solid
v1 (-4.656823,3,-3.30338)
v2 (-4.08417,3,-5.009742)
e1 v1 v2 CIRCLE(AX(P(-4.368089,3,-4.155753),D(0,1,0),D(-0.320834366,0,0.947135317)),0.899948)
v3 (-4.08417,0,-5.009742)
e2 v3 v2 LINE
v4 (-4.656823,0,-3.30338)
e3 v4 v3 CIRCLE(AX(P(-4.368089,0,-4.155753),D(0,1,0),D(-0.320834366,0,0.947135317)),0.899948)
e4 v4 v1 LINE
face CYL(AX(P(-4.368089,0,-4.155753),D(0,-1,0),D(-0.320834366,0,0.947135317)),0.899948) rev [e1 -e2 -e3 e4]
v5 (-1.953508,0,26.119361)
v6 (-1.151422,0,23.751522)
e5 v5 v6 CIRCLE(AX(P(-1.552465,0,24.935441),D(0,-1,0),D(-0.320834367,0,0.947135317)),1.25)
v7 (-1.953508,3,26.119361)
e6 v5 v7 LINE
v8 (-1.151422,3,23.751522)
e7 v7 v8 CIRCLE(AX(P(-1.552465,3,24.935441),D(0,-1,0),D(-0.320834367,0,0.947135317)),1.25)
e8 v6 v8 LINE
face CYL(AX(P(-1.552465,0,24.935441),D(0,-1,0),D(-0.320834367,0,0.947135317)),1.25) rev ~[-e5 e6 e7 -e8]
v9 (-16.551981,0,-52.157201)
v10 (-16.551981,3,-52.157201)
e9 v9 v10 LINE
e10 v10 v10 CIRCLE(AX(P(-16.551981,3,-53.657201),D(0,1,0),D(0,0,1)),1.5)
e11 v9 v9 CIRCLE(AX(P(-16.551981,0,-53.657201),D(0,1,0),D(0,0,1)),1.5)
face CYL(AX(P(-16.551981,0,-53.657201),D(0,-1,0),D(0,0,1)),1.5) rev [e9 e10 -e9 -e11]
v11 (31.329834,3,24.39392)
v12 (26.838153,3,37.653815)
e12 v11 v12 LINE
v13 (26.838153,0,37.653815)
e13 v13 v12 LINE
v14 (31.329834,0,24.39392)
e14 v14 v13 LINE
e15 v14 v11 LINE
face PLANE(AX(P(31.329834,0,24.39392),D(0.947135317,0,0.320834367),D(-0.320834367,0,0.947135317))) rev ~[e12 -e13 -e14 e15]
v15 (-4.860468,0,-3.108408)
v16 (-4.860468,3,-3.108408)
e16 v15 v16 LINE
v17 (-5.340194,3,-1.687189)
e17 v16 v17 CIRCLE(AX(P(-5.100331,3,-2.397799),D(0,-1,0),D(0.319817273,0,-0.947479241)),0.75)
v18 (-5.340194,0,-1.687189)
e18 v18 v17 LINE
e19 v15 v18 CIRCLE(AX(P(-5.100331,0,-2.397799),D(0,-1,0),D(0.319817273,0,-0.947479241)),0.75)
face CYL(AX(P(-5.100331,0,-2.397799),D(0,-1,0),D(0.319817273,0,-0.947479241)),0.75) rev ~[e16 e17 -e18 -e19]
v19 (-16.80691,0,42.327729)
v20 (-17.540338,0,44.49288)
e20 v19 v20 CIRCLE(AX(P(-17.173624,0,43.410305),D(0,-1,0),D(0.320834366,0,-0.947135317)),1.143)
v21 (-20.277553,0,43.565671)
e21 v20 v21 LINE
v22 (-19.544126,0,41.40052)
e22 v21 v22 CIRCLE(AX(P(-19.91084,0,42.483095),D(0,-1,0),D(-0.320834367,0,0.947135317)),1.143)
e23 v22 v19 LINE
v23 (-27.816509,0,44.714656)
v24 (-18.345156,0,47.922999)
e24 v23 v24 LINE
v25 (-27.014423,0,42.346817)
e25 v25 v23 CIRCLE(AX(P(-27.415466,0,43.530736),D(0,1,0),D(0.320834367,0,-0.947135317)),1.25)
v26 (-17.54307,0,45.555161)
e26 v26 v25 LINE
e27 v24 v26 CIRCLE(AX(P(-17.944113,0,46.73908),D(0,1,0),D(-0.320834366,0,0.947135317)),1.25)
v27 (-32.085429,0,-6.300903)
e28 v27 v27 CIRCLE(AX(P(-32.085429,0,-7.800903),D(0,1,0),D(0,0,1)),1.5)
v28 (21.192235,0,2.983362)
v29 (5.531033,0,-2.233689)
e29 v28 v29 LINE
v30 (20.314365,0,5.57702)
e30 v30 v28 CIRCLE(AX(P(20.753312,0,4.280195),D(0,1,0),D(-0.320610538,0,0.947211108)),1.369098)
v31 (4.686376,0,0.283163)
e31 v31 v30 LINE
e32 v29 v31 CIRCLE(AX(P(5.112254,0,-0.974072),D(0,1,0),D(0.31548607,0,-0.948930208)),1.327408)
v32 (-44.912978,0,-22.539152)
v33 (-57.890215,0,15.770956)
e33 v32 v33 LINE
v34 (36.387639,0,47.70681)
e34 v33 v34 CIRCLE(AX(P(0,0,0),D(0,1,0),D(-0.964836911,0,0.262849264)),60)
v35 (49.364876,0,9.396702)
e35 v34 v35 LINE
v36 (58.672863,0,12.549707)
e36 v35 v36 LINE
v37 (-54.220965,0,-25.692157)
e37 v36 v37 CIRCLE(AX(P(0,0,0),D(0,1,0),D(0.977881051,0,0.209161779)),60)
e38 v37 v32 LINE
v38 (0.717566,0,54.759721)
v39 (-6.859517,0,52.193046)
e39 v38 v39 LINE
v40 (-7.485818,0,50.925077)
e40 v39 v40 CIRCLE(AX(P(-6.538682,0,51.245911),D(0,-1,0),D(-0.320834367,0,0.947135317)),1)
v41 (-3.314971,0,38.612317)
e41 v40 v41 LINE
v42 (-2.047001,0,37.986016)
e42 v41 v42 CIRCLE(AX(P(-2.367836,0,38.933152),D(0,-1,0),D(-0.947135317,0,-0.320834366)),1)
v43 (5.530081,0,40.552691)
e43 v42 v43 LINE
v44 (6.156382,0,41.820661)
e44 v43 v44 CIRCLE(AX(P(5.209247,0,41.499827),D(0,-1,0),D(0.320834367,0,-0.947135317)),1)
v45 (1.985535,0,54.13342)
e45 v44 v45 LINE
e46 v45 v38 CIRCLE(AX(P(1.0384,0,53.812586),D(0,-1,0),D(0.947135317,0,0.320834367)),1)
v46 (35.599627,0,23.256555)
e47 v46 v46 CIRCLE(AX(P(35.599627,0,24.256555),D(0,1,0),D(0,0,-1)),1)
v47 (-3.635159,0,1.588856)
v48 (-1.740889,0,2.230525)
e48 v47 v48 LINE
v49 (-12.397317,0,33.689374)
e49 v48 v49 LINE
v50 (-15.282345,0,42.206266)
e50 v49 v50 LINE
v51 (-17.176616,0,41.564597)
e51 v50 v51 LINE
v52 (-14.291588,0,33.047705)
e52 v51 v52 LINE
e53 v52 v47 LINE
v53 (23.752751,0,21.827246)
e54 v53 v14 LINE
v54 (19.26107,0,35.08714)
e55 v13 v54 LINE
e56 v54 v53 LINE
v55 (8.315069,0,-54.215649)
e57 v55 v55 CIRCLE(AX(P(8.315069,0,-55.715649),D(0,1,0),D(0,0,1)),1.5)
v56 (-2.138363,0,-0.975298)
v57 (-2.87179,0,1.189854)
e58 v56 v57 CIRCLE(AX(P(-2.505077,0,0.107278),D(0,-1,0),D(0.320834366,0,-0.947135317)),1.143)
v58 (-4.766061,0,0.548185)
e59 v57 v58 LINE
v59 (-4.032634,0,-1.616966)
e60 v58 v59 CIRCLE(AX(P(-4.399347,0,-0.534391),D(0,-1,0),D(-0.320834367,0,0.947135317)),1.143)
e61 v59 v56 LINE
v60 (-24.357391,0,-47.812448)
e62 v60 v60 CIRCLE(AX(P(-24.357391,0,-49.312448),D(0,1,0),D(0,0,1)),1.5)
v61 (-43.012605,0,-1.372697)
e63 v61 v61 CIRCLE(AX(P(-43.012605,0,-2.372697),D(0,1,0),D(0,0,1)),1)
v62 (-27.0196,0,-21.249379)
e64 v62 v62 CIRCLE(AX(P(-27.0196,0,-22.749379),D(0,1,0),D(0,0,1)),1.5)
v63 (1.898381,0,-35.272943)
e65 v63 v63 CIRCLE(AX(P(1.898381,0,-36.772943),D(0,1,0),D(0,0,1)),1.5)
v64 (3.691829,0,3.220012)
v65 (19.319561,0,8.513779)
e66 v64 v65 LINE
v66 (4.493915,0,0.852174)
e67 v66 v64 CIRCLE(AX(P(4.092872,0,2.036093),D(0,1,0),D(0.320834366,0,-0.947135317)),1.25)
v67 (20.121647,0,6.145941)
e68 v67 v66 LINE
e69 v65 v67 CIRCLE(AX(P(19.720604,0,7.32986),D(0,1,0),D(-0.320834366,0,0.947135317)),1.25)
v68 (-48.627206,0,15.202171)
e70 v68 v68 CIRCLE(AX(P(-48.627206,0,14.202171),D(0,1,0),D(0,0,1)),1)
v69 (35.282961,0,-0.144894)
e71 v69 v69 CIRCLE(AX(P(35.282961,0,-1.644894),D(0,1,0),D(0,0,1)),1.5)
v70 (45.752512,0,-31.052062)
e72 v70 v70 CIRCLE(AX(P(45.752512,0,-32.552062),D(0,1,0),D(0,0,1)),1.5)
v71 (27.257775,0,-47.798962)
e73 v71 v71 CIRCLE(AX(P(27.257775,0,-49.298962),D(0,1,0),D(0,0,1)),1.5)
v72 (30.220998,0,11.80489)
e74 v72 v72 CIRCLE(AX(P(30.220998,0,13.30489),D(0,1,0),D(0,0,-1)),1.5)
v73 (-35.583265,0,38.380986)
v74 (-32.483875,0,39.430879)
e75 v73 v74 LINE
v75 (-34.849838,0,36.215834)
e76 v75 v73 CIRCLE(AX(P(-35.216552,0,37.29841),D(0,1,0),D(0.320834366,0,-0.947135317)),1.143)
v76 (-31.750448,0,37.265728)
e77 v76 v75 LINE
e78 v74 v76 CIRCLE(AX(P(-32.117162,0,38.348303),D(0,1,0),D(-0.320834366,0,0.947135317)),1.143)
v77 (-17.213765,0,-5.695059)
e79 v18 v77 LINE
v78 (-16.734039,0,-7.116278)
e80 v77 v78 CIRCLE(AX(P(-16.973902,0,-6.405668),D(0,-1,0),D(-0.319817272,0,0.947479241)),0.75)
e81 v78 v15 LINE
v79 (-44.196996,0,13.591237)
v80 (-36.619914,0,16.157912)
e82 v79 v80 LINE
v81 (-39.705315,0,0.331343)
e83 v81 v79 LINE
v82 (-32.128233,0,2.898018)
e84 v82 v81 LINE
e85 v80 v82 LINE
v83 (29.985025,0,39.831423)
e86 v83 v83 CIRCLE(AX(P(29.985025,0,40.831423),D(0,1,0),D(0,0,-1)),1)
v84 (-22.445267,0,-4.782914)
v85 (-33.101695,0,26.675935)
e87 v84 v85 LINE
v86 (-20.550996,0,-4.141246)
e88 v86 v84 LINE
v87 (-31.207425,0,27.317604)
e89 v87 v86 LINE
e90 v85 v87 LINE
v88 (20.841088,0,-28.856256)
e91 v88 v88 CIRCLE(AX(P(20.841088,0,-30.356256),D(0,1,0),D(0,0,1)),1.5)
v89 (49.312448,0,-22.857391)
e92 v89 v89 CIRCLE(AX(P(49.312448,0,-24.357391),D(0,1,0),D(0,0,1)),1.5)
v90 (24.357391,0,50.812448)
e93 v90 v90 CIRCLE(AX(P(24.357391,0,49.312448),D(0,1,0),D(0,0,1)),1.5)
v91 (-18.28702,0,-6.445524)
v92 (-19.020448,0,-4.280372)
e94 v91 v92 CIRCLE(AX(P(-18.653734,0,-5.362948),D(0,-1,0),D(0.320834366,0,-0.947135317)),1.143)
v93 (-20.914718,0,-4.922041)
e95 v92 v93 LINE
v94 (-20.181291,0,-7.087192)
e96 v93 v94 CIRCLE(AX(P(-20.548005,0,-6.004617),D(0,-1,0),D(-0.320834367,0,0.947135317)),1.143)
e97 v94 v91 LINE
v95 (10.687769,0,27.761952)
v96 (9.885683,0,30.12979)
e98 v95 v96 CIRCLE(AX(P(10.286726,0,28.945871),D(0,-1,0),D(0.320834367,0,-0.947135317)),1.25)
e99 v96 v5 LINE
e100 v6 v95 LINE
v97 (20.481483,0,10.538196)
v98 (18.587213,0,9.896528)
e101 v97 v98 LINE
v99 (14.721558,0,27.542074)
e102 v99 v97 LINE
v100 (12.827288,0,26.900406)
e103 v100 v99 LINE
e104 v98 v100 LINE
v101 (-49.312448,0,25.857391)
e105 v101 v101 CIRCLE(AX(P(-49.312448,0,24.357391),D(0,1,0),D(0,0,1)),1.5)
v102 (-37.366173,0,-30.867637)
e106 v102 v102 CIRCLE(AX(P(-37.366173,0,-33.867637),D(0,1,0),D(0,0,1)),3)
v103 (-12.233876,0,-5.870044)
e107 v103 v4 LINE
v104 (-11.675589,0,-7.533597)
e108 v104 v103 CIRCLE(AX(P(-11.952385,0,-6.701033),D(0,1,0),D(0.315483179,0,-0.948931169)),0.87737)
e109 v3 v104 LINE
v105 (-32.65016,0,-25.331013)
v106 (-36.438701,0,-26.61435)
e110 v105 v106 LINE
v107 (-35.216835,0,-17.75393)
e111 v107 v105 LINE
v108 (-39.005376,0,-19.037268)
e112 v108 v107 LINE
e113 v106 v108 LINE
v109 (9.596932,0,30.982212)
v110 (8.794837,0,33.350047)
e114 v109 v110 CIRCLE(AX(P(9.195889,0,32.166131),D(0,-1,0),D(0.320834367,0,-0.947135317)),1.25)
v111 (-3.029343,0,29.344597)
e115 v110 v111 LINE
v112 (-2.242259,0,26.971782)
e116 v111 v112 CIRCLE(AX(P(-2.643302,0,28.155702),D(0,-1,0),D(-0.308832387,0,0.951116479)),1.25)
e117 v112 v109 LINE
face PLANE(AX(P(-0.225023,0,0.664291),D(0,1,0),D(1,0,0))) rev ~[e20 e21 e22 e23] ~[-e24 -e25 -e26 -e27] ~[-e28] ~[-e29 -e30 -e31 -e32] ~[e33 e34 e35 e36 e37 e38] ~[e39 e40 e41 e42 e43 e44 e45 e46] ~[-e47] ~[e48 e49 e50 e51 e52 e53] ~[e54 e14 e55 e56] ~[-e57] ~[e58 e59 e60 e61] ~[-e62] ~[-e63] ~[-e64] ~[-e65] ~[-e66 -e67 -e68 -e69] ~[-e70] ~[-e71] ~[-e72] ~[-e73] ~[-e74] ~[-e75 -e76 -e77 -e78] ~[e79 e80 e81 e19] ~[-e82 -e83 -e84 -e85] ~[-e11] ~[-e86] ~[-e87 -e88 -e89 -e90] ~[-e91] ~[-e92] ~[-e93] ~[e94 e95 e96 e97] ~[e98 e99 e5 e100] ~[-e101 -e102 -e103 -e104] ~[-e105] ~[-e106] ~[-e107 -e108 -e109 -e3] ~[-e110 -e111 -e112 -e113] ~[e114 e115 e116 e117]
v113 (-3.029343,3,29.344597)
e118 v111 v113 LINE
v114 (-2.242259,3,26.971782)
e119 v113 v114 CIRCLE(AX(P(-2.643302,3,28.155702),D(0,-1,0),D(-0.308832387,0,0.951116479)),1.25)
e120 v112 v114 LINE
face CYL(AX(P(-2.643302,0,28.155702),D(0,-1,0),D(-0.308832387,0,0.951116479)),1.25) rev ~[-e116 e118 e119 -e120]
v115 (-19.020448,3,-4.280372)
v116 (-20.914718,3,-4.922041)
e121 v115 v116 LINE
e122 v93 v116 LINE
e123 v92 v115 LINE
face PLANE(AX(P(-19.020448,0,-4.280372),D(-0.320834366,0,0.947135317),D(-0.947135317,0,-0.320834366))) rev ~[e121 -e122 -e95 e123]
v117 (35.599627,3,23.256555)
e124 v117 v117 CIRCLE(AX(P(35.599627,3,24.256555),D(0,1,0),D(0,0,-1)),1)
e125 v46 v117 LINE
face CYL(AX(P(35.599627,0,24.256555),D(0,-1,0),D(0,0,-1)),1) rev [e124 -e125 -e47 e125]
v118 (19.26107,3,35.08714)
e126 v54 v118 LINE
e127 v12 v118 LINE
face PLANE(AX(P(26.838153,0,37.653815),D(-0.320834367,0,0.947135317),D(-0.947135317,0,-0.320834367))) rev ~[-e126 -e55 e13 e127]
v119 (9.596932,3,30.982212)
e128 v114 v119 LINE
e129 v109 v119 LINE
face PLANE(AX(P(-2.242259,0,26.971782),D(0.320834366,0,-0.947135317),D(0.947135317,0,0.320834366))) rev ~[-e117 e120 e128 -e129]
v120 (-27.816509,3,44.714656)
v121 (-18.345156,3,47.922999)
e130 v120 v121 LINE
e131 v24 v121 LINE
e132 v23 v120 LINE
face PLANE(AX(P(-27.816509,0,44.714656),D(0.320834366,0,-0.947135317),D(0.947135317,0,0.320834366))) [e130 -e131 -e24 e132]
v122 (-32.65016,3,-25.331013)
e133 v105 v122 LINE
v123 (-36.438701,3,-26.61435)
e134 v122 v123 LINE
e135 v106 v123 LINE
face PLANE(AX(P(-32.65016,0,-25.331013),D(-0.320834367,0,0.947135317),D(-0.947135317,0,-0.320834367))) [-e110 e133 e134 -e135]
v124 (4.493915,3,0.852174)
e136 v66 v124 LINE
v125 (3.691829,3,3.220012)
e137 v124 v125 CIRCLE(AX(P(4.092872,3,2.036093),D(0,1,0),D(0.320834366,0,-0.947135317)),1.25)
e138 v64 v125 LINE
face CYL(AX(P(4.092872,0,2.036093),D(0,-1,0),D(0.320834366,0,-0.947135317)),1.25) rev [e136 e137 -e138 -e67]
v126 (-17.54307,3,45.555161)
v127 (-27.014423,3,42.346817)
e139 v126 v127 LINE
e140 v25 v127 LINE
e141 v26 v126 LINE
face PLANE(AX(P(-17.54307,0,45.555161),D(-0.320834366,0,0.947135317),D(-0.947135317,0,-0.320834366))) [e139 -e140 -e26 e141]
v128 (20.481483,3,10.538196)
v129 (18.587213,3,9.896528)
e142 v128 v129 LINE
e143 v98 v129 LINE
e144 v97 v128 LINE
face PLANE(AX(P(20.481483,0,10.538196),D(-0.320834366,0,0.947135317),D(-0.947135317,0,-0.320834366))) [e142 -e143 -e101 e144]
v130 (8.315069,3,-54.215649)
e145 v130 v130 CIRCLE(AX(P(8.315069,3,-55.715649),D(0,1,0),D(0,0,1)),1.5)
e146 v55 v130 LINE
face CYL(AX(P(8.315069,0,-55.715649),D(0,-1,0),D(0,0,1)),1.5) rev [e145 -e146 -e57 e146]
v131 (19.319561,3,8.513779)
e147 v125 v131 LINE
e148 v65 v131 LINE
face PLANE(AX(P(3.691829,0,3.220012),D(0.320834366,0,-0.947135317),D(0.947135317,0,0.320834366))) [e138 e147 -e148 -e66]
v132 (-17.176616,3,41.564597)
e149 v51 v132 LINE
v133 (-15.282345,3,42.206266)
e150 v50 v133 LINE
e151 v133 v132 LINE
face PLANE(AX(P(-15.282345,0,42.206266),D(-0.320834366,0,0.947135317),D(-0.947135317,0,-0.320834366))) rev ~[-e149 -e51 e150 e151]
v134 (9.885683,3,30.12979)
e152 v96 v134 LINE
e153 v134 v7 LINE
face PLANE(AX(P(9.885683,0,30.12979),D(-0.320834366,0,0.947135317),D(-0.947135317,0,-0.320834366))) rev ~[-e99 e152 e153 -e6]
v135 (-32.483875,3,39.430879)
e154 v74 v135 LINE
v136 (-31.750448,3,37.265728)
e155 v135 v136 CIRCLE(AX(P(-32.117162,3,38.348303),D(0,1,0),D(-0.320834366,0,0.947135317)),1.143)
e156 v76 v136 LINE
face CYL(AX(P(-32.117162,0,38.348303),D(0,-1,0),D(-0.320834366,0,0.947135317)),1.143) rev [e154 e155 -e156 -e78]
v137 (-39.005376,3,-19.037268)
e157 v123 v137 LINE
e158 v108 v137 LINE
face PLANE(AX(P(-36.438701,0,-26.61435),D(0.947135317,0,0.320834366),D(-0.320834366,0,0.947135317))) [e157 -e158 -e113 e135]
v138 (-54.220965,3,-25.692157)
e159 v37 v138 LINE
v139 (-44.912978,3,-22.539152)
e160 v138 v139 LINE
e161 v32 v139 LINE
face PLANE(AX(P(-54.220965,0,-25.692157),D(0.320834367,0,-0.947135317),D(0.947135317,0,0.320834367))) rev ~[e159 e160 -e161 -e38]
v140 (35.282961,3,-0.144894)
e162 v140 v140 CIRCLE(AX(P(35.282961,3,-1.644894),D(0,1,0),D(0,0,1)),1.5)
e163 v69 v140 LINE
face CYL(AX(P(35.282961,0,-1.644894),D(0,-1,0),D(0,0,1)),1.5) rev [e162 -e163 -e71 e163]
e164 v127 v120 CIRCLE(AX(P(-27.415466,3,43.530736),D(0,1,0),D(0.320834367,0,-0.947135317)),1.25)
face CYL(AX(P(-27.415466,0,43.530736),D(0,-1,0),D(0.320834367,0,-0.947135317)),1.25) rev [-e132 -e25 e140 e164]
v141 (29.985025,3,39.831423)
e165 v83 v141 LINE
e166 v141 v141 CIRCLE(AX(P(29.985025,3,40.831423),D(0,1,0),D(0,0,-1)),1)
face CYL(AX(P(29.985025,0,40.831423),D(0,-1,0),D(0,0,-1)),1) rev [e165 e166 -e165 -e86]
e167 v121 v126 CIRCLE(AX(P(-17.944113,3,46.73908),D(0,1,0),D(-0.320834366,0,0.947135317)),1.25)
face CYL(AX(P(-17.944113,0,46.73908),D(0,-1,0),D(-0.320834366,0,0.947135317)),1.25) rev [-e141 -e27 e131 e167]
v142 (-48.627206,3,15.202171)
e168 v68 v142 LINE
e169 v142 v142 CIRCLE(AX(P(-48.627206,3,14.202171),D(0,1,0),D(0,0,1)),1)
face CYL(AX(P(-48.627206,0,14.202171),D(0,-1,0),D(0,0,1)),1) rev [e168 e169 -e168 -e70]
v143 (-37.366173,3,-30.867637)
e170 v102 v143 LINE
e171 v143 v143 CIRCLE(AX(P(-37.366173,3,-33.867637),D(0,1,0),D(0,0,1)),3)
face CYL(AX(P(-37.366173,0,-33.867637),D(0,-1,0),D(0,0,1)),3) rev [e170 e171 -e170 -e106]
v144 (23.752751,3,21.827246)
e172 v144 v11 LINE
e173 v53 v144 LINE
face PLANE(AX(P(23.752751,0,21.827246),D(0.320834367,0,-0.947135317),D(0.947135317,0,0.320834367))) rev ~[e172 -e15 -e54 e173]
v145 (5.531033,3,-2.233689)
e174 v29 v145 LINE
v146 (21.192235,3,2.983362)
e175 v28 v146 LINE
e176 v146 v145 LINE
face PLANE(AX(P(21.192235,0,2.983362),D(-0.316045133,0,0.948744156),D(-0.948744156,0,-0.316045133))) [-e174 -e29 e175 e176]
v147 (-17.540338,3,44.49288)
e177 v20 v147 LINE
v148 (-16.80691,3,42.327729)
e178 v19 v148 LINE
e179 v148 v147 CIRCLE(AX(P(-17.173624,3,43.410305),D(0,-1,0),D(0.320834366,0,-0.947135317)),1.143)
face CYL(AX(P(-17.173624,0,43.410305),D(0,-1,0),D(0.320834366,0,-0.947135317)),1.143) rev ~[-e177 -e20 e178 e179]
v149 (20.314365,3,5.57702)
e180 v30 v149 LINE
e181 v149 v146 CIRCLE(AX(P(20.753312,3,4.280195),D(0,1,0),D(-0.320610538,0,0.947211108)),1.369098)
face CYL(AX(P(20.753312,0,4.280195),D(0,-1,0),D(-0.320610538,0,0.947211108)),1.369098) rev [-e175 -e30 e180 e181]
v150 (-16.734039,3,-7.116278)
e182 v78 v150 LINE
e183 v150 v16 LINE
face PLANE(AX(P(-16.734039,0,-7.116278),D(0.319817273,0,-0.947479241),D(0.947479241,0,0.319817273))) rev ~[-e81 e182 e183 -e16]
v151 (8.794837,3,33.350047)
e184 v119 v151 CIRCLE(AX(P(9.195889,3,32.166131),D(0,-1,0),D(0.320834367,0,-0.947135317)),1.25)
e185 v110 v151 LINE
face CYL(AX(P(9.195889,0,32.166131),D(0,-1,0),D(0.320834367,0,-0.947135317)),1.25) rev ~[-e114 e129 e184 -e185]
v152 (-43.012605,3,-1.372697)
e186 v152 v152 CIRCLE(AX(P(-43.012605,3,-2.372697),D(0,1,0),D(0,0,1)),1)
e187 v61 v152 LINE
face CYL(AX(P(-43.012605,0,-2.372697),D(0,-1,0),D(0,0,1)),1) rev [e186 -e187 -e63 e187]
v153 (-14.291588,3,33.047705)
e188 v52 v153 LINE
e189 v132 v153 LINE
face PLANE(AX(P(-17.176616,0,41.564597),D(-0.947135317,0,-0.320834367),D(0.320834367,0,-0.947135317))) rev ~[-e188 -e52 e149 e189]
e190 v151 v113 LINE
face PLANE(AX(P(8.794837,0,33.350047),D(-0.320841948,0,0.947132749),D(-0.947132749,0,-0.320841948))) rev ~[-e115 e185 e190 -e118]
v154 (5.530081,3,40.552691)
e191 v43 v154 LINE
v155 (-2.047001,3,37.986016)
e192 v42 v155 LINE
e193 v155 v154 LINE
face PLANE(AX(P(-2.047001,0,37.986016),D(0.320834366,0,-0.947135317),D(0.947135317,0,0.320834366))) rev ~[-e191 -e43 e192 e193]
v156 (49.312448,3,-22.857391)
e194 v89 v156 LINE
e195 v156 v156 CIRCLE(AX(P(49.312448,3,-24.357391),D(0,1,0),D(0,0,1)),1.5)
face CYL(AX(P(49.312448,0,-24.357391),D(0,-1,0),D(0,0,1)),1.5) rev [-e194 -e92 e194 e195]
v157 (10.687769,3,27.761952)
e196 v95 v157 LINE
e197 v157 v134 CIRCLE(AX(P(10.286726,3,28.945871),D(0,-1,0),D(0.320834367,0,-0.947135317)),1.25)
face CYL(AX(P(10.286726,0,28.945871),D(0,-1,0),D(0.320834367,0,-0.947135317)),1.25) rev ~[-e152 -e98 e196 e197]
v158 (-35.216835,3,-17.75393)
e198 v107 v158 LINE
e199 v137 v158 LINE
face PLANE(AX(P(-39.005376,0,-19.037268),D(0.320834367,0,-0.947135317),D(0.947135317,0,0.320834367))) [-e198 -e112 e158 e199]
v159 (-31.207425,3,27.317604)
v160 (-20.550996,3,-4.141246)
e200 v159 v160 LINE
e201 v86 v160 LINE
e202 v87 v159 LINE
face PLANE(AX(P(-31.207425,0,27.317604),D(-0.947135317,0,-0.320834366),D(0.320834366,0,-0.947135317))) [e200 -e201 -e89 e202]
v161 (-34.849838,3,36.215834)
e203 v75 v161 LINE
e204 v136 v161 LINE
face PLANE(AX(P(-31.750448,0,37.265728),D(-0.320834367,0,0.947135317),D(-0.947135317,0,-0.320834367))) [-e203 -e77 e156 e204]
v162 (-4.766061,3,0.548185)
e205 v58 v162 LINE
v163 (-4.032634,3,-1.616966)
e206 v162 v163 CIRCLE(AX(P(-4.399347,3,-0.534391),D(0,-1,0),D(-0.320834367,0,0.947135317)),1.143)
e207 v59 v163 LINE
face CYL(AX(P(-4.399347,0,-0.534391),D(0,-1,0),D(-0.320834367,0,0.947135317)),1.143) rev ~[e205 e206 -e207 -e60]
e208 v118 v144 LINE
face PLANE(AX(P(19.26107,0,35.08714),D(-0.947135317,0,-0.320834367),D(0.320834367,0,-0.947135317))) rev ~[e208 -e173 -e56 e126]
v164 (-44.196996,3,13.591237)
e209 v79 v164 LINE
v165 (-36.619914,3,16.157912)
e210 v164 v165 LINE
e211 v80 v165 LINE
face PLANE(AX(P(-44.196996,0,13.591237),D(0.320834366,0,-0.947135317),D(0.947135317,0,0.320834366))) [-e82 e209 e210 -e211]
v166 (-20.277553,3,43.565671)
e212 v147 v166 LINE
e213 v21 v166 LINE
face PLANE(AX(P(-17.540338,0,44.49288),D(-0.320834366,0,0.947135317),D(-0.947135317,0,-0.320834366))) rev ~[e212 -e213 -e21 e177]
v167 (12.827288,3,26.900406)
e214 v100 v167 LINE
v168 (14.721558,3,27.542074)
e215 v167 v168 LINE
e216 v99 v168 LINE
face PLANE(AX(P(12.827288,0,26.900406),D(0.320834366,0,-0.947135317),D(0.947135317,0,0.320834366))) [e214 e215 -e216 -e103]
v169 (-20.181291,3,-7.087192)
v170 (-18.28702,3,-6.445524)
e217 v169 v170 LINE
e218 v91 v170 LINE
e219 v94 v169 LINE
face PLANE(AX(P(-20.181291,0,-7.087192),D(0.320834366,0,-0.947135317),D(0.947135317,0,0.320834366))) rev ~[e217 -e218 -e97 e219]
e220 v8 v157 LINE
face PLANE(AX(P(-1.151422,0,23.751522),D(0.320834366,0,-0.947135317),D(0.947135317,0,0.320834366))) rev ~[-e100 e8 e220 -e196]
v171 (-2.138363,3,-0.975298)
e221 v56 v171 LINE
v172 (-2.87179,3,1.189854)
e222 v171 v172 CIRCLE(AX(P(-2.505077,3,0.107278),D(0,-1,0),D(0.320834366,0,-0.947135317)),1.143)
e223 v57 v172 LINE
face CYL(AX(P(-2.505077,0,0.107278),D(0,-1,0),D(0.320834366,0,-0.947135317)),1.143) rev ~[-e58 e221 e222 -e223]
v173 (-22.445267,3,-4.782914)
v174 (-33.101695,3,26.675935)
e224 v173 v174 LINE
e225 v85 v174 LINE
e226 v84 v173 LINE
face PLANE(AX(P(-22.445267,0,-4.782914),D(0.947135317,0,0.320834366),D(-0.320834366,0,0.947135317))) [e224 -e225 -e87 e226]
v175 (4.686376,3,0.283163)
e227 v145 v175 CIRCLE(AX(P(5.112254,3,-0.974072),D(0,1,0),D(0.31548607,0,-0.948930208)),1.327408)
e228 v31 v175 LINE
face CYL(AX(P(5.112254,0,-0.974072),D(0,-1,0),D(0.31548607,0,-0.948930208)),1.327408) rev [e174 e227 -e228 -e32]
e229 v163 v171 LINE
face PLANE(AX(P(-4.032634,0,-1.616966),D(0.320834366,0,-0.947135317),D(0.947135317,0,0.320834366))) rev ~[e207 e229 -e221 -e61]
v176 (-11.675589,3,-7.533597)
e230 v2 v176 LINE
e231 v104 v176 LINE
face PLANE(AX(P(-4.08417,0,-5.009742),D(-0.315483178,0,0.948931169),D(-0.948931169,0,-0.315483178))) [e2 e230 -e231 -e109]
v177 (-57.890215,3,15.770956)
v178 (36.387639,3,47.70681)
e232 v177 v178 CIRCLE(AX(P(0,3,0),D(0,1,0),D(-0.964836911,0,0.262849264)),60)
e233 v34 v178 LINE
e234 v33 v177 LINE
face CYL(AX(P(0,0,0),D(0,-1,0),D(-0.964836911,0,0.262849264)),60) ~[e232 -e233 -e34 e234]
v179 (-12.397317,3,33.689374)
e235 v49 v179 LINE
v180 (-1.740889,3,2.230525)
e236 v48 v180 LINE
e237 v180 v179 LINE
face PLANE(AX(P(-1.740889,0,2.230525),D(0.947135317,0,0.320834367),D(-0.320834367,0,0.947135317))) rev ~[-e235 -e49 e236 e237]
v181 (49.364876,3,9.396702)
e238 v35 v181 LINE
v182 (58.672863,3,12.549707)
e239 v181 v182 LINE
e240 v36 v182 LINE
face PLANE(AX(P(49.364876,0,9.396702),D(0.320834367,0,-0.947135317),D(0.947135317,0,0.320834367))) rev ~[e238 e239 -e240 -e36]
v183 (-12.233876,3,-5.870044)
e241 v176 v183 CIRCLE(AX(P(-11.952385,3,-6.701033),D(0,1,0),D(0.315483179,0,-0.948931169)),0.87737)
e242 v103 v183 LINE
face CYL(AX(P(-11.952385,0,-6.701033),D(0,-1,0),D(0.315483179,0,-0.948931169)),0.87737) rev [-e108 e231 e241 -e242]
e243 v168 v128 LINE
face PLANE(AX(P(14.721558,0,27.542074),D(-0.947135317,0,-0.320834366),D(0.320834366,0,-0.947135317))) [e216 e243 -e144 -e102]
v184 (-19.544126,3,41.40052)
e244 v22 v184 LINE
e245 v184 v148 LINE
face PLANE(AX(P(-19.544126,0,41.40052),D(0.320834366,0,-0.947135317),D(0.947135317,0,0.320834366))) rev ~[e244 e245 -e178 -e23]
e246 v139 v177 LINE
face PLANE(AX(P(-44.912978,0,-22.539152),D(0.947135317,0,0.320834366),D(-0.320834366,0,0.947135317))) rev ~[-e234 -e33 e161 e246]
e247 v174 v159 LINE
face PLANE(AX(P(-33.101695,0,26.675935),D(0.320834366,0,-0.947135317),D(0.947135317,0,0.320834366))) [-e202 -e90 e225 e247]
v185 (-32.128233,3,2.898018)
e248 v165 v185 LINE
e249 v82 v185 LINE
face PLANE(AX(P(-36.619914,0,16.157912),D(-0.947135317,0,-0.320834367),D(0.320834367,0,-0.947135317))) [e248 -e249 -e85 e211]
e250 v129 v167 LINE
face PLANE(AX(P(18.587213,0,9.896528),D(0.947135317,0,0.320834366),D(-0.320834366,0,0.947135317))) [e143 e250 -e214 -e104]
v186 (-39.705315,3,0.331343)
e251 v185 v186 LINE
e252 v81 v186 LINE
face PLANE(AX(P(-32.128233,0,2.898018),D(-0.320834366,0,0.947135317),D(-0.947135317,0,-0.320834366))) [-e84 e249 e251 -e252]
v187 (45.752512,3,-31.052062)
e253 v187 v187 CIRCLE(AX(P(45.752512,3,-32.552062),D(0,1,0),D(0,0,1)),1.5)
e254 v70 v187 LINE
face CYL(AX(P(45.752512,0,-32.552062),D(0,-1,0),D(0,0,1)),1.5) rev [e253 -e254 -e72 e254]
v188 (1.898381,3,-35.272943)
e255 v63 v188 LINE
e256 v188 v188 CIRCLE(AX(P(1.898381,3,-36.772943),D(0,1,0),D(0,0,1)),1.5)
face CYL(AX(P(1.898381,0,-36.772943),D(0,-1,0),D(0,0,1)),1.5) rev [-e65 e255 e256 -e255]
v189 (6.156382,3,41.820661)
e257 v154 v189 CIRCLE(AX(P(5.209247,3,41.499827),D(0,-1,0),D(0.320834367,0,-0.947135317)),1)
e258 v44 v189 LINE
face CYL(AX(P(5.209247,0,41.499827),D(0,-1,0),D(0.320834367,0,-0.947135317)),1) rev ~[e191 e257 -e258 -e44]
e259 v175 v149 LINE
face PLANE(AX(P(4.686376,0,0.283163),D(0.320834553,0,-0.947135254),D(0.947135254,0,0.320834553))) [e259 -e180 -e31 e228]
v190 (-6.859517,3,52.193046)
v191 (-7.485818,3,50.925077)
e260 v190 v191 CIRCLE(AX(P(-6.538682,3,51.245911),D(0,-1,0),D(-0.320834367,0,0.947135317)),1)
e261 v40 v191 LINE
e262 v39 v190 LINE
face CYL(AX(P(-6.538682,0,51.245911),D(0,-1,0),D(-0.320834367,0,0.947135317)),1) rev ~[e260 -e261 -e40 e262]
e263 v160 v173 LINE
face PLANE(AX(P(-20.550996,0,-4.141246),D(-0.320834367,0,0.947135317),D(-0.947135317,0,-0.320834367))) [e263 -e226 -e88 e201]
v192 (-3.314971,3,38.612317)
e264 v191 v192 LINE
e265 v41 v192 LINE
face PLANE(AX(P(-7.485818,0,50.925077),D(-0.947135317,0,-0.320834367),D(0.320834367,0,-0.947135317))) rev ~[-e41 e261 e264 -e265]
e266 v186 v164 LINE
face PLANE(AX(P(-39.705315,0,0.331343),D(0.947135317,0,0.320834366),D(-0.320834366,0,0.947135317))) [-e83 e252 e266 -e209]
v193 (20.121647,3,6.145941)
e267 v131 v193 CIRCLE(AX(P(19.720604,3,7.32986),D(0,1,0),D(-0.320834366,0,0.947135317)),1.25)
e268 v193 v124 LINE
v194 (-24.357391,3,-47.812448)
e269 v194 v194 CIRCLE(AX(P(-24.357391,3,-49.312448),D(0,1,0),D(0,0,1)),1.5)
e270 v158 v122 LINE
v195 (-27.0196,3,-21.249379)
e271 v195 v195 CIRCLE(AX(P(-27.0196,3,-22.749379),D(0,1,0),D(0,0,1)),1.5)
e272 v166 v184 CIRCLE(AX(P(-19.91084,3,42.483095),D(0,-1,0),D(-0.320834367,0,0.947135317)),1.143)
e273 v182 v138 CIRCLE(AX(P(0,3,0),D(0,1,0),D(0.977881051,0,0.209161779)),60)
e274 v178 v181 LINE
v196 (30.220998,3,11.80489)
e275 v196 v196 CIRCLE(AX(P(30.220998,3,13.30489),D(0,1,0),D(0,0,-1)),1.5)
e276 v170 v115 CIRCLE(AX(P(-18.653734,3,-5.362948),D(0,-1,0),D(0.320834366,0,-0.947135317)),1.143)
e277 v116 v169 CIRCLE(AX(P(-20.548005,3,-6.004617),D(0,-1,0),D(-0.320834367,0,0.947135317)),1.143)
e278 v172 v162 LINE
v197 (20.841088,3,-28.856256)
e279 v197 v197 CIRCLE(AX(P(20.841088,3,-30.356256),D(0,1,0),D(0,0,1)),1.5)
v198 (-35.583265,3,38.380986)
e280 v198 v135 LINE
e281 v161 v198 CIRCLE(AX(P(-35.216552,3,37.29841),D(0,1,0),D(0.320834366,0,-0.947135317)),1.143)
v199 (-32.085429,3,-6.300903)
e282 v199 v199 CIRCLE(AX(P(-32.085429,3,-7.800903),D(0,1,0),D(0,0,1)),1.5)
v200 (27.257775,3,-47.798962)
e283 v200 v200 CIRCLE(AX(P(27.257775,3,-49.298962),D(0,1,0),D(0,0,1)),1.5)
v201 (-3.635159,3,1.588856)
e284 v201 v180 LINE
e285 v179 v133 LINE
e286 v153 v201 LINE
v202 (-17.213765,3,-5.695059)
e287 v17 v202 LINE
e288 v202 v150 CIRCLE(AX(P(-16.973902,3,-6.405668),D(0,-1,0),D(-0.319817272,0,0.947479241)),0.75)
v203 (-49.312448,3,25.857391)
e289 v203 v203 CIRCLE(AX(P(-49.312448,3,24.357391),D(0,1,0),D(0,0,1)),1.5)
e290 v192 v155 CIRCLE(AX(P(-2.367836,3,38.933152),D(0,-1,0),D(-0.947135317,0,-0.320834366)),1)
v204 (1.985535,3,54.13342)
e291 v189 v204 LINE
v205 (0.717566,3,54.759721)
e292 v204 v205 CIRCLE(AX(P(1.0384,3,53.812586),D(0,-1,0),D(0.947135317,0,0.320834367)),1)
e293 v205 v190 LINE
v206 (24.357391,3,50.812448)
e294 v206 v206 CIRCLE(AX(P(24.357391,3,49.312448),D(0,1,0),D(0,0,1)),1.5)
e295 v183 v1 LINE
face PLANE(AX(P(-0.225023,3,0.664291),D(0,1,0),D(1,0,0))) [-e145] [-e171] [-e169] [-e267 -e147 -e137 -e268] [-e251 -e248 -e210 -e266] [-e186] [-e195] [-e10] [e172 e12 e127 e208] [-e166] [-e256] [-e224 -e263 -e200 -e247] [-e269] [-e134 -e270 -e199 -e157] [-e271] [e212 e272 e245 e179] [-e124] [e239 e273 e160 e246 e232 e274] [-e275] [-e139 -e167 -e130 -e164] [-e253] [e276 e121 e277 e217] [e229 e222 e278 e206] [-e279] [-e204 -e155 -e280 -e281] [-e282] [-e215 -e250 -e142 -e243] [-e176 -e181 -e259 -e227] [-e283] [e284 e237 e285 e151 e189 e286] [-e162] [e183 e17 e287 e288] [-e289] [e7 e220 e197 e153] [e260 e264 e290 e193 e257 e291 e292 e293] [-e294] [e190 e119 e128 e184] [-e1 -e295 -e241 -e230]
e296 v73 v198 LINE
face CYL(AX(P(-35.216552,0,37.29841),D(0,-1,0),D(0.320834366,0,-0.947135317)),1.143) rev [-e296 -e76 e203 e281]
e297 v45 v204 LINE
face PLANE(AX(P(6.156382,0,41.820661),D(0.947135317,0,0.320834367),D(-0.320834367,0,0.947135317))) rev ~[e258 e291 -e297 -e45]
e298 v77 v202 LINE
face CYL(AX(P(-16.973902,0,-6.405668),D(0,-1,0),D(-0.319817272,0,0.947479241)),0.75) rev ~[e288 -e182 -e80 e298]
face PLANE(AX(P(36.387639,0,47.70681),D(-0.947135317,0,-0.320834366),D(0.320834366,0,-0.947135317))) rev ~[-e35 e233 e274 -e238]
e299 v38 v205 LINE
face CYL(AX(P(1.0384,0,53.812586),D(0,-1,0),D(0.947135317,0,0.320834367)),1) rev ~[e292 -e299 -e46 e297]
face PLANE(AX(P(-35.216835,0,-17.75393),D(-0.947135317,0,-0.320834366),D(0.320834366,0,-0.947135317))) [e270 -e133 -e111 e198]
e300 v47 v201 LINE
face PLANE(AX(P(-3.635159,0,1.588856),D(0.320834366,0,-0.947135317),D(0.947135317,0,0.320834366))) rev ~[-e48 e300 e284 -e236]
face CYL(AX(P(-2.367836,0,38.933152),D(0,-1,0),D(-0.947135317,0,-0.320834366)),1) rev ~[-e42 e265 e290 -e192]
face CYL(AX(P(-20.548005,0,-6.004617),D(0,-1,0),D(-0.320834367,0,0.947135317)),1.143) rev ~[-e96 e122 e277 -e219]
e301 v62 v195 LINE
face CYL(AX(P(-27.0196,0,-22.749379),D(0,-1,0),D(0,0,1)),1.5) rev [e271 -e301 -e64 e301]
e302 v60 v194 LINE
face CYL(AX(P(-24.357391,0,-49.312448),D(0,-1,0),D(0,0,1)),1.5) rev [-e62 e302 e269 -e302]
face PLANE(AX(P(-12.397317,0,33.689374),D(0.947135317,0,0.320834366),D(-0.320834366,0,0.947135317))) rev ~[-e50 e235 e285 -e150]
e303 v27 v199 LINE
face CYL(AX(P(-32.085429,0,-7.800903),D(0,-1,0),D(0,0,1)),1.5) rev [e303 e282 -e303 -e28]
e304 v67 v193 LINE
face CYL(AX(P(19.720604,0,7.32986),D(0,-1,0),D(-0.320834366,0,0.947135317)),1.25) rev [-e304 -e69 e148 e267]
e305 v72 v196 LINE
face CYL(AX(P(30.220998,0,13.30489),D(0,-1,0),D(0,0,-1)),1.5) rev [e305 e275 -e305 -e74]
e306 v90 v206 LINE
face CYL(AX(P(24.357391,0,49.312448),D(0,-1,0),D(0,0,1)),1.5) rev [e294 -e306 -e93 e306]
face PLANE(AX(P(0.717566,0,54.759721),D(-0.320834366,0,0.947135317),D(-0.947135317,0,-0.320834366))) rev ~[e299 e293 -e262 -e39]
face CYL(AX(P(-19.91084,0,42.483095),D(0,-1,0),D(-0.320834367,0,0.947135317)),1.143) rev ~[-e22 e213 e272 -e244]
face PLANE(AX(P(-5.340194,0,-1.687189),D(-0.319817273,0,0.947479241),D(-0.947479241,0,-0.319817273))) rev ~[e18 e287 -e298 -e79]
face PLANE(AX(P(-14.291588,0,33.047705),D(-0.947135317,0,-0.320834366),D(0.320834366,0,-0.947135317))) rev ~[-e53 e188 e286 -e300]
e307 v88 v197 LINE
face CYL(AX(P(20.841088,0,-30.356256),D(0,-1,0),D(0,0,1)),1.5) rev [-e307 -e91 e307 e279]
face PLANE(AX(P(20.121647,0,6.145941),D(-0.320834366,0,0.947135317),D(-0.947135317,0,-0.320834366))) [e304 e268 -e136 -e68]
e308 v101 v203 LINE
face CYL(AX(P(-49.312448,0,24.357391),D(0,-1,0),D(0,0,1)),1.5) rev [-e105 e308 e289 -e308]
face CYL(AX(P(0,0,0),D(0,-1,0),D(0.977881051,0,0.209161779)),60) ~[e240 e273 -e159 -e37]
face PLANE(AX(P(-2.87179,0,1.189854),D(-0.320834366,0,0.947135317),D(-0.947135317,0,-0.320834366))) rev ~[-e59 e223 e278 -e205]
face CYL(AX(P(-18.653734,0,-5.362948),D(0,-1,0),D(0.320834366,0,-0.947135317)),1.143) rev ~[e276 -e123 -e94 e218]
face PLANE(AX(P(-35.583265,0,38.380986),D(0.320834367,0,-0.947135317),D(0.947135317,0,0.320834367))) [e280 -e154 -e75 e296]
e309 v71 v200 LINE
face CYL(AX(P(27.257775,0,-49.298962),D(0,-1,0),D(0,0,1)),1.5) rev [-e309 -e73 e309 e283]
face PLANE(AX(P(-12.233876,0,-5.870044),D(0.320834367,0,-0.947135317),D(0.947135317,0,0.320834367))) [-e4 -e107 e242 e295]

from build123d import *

# Parameters (mm, degrees)
CROQUIS1_R              = 1
CROQUIS1_R_2            = 1.5
CROQUIS1_R_3            = 3
SALIENTE_EXTRUIR1_DEPTH = 3


with BuildPart() as part:
    # Croquis1 → Saliente-Extruir1 (new body)
    with BuildSketch(Plane(origin=(0, 0, 0), x_dir=(1, 0, 0), z_dir=(0, 1, 0))):
        with BuildLine():
            Line((-54.220965168, 25.692157096), (-44.912977861, 22.539152286))
            Line((-44.912977861, 22.539152286), (-57.890214642, -15.770955858))
            ThreePointArc((-57.890214642, -15.770955858), (-19.250061989, -56.828119038), (36.387638976, -47.706810098))
            Line((36.387638976, -47.706810098), (49.364875757, -9.396701954))
            Line((49.364875757, -9.396701954), (58.672863064, -12.549706764))
            ThreePointArc((58.672863064, -12.549706764), (19.250061989, 56.828119038), (-54.220965168, 25.692157096))
        make_face()
        with Locations(Location((-48.627206238, -14.202170607, 0), (0, 0, 270))):
            Circle(CROQUIS1_R, mode=Mode.SUBTRACT)
        with Locations(Location((-43.012604824, 2.372697446, 0), (0, 0, 270))):
            Circle(CROQUIS1_R, mode=Mode.SUBTRACT)
        with Locations(Location((35.599626512, -24.256554973, 0), (0, 0, 90))):
            Circle(CROQUIS1_R, mode=Mode.SUBTRACT)
        with Locations(Location((29.985025098, -40.831423025, 0), (0, 0, 90))):
            Circle(CROQUIS1_R, mode=Mode.SUBTRACT)
        with Locations(Location((-24.357390716, 49.312447896, 0), (0, 0, 270))):
            Circle(CROQUIS1_R_2, mode=Mode.SUBTRACT)
        with Locations(Location((49.312447896, 24.357390716, 0), (0, 0, 270))):
            Circle(CROQUIS1_R_2, mode=Mode.SUBTRACT)
        with Locations(Location((24.357390716, -49.312447896, 0), (0, 0, 270))):
            Circle(CROQUIS1_R_2, mode=Mode.SUBTRACT)
        with Locations(Location((-49.312447896, -24.357390716, 0), (0, 0, 270))):
            Circle(CROQUIS1_R_2, mode=Mode.SUBTRACT)
        with Locations(Location((-32.085428511, 7.800903466, 0), (0, 0, 270))):
            Circle(CROQUIS1_R_2, mode=Mode.SUBTRACT)
        with Locations(Location((30.220997798, -13.304890445, 0), (0, 0, 90))):
            Circle(CROQUIS1_R_2, mode=Mode.SUBTRACT)
        with Locations(Location((45.752512271, 32.552062119, 0), (0, 0, 270))):
            Circle(CROQUIS1_R_2, mode=Mode.SUBTRACT)
        with Locations(Location((-16.551981469, 53.657201388, 0), (0, 0, 270))):
            Circle(CROQUIS1_R_2, mode=Mode.SUBTRACT)
        with Locations(Location((35.282961094, 1.644894083, 0), (0, 0, 270))):
            Circle(CROQUIS1_R_2, mode=Mode.SUBTRACT)
        with Locations(Location((-27.019600078, 22.74937871, 0), (0, 0, 270))):
            Circle(CROQUIS1_R_2, mode=Mode.SUBTRACT)
        with Locations(Location((8.315068564, 55.715649476, 0), (0, 0, 270))):
            Circle(CROQUIS1_R_2, mode=Mode.SUBTRACT)
        with Locations(Location((27.25777491, 49.298962147, 0), (0, 0, 270))):
            Circle(CROQUIS1_R_2, mode=Mode.SUBTRACT)
        with Locations(Location((20.841087581, 30.356255801, 0), (0, 0, 270))):
            Circle(CROQUIS1_R_2, mode=Mode.SUBTRACT)
        with Locations(Location((1.898381235, 36.77294313, 0), (0, 0, 270))):
            Circle(CROQUIS1_R_2, mode=Mode.SUBTRACT)
        with Locations(Location((-37.36617256, 33.867636702, 0), (0, 0, 270))):
            Circle(CROQUIS1_R_3, mode=Mode.SUBTRACT)
        Polygon((31.329833693, -24.393920483), (26.838152562, -37.653814925), (19.261070024, -35.087139993), (23.752751155, -21.827245551), align=None, mode=Mode.SUBTRACT)
        with BuildLine():
            Line((-2.242259213, -26.971782408), (9.596932254, -30.982211989))
            ThreePointArc((9.596932254, -30.982211989), (10.379806837, -32.567178833), (8.79483686, -33.350047072))
            Line((8.79483686, -33.350047072), (-3.029342655, -29.344597153))
            ThreePointArc((-3.029342655, -29.344597153), (-3.829733257, -27.762151967), (-2.242259213, -26.971782408))
        make_face(mode=Mode.SUBTRACT)
        with BuildLine():
            Line((4.686376156, -0.283162711), (20.314364649, -5.577019828))
            ThreePointArc((20.314364649, -5.577019828), (22.050140606, -4.71913044), (21.192235329, -2.983362336))
            Line((21.192235329, -2.983362336), (5.531032931, 2.233688827))
            ThreePointArc((5.531032931, 2.233688827), (3.853823576, 1.396401808), (4.686376156, -0.283162711))
        make_face(mode=Mode.SUBTRACT)
        Polygon((12.827287772, -26.900405501), (14.721558407, -27.542074234), (20.481483355, -10.538196491), (18.58721272, -9.896527758), align=None, mode=Mode.SUBTRACT)
        Polygon((-44.196996235, -13.591237439), (-36.619913697, -16.15791237), (-32.128232566, -2.898017928), (-39.705315105, -0.331342996), align=None, mode=Mode.SUBTRACT)
        with BuildLine():
            Line((-27.816509098, -44.714655504), (-18.345155925, -47.922999169))
            ThreePointArc((-18.345155925, -47.922999169), (-16.760193821, -47.14012298), (-17.543070009, -45.555160876))
            Line((-17.543070009, -45.555160876), (-27.014423182, -42.346817211))
            ThreePointArc((-27.014423182, -42.346817211), (-28.599385287, -43.129693399), (-27.816509098, -44.714655504))
        make_face(mode=Mode.SUBTRACT)
        Polygon((-20.550996192, 4.141245501), (-22.445266826, 4.782914234), (-33.101695464, -26.675934859), (-31.207424829, -27.317603592), align=None, mode=Mode.SUBTRACT)
        with BuildLine():
            Line((-35.583265447, -38.380985707), (-32.483875307, -39.430878847))
            ThreePointArc((-32.483875307, -39.430878847), (-31.034585959, -38.71501686), (-31.750447946, -37.265727512))
            Line((-31.750447946, -37.265727512), (-34.849838086, -36.215834372))
            ThreePointArc((-34.849838086, -36.215834372), (-36.299127434, -36.931696359), (-35.583265447, -38.380985707))
        make_face(mode=Mode.SUBTRACT)
        Polygon((-1.74088879, -2.230525018), (-12.397317428, -33.68937411), (-15.282344998, -42.206265656), (-17.176615633, -41.564596923), (-14.291588062, -33.047705377), (-3.635159425, -1.588856285), align=None, mode=Mode.SUBTRACT)
        Polygon((-35.216834792, 17.75393043), (-32.65015986, 25.331012969), (-36.438701129, 26.614350435), (-39.005376061, 19.037267896), align=None, mode=Mode.SUBTRACT)
        with BuildLine():
            Line((-7.485817773, -50.925076541), (-3.314971008, -38.612317416))
            ThreePointArc((-3.314971008, -38.612317416), (-2.810697341, -38.036561821), (-2.047001325, -37.986016465))
            Line((-2.047001325, -37.986016465), (5.530081214, -40.552691397))
            ThreePointArc((5.530081214, -40.552691397), (6.105836809, -41.056965065), (6.156382165, -41.820661081))
            Line((6.156382165, -41.820661081), (1.9855354, -54.133420206))
            ThreePointArc((1.9855354, -54.133420206), (1.481261732, -54.709175801), (0.717565717, -54.759721157))
            Line((0.717565717, -54.759721157), (-6.859516822, -52.193046225))
            ThreePointArc((-6.859516822, -52.193046225), (-7.435272417, -51.688772557), (-7.485817773, -50.925076541))
        make_face(mode=Mode.SUBTRACT)
        with BuildLine():
            Line((-1.151422367, -23.751522329), (10.6877691, -27.76195191))
            ThreePointArc((10.6877691, -27.76195191), (11.470645288, -29.346914015), (9.885683184, -30.129790204))
            Line((9.885683184, -30.129790204), (-1.953508283, -26.119360623))
            ThreePointArc((-1.953508283, -26.119360623), (-2.736384471, -24.534398518), (-1.151422367, -23.751522329))
        make_face(mode=Mode.SUBTRACT)
        with BuildLine():
            Line((3.691828695, -3.220011933), (19.319561431, -8.51377898))
            ThreePointArc((19.319561431, -8.51377898), (20.904523535, -7.730902791), (20.121647347, -6.145940687))
            Line((20.121647347, -6.145940687), (4.493914611, -0.85217364))
            ThreePointArc((4.493914611, -0.85217364), (2.908952507, -1.635049828), (3.691828695, -3.220011933))
        make_face(mode=Mode.SUBTRACT)
        with BuildLine():
            Line((-20.18129085, 7.087192335), (-18.287020215, 6.445523602))
            ThreePointArc((-18.287020215, 6.445523602), (-17.571158228, 4.996234254), (-19.020447577, 4.280372267))
            Line((-19.020447577, 4.280372267), (-20.914718212, 4.922041))
            ThreePointArc((-20.914718212, 4.922041), (-21.630580198, 6.371330349), (-20.18129085, 7.087192335))
        make_face(mode=Mode.SUBTRACT)
        with BuildLine():
            Line((-4.03263369, 1.616966387), (-2.138363055, 0.975297654))
            ThreePointArc((-2.138363055, 0.975297654), (-1.422501068, -0.473991695), (-2.871790417, -1.189853682))
            Line((-2.871790417, -1.189853682), (-4.766061052, -0.548184949))
            ThreePointArc((-4.766061052, -0.548184949), (-5.481923038, 0.9011044), (-4.03263369, 1.616966387))
        make_face(mode=Mode.SUBTRACT)
        with BuildLine():
            Line((-19.544125985, -41.400519554), (-16.806910291, -42.327729053))
            ThreePointArc((-16.806910291, -42.327729053), (-16.091048304, -43.777018402), (-17.540337653, -44.492880389))
            Line((-17.540337653, -44.492880389), (-20.277553347, -43.56567089))
            ThreePointArc((-20.277553347, -43.56567089), (-20.993415333, -42.116381541), (-19.544125985, -41.400519554))
        make_face(mode=Mode.SUBTRACT)
        with BuildLine():
            Line((-12.233875617, 5.870044257), (-4.656823255, 3.303379547))
            ThreePointArc((-4.656823255, 3.303379547), (-3.514904412, 3.869424877), (-4.084170263, 5.009741653))
            Line((-4.084170263, 5.009741653), (-11.675589384, 7.533597029))
            ThreePointArc((-11.675589384, 7.533597029), (-12.784164712, 6.980177058), (-12.233875617, 5.870044257))
        make_face(mode=Mode.SUBTRACT)
        with BuildLine():
            Line((-16.734038691, 7.116277585), (-4.860468149, 3.108408302))
            ThreePointArc((-4.860468149, 3.108408302), (-4.389721673, 2.157935917), (-5.340194058, 1.687189441))
            Line((-5.340194058, 1.687189441), (-17.213764599, 5.695058723))
            ThreePointArc((-17.213764599, 5.695058723), (-17.684511076, 6.645531108), (-16.734038691, 7.116277585))
        make_face(mode=Mode.SUBTRACT)
    extrude(amount=SALIENTE_EXTRUIR1_DEPTH)


solid = part.part
